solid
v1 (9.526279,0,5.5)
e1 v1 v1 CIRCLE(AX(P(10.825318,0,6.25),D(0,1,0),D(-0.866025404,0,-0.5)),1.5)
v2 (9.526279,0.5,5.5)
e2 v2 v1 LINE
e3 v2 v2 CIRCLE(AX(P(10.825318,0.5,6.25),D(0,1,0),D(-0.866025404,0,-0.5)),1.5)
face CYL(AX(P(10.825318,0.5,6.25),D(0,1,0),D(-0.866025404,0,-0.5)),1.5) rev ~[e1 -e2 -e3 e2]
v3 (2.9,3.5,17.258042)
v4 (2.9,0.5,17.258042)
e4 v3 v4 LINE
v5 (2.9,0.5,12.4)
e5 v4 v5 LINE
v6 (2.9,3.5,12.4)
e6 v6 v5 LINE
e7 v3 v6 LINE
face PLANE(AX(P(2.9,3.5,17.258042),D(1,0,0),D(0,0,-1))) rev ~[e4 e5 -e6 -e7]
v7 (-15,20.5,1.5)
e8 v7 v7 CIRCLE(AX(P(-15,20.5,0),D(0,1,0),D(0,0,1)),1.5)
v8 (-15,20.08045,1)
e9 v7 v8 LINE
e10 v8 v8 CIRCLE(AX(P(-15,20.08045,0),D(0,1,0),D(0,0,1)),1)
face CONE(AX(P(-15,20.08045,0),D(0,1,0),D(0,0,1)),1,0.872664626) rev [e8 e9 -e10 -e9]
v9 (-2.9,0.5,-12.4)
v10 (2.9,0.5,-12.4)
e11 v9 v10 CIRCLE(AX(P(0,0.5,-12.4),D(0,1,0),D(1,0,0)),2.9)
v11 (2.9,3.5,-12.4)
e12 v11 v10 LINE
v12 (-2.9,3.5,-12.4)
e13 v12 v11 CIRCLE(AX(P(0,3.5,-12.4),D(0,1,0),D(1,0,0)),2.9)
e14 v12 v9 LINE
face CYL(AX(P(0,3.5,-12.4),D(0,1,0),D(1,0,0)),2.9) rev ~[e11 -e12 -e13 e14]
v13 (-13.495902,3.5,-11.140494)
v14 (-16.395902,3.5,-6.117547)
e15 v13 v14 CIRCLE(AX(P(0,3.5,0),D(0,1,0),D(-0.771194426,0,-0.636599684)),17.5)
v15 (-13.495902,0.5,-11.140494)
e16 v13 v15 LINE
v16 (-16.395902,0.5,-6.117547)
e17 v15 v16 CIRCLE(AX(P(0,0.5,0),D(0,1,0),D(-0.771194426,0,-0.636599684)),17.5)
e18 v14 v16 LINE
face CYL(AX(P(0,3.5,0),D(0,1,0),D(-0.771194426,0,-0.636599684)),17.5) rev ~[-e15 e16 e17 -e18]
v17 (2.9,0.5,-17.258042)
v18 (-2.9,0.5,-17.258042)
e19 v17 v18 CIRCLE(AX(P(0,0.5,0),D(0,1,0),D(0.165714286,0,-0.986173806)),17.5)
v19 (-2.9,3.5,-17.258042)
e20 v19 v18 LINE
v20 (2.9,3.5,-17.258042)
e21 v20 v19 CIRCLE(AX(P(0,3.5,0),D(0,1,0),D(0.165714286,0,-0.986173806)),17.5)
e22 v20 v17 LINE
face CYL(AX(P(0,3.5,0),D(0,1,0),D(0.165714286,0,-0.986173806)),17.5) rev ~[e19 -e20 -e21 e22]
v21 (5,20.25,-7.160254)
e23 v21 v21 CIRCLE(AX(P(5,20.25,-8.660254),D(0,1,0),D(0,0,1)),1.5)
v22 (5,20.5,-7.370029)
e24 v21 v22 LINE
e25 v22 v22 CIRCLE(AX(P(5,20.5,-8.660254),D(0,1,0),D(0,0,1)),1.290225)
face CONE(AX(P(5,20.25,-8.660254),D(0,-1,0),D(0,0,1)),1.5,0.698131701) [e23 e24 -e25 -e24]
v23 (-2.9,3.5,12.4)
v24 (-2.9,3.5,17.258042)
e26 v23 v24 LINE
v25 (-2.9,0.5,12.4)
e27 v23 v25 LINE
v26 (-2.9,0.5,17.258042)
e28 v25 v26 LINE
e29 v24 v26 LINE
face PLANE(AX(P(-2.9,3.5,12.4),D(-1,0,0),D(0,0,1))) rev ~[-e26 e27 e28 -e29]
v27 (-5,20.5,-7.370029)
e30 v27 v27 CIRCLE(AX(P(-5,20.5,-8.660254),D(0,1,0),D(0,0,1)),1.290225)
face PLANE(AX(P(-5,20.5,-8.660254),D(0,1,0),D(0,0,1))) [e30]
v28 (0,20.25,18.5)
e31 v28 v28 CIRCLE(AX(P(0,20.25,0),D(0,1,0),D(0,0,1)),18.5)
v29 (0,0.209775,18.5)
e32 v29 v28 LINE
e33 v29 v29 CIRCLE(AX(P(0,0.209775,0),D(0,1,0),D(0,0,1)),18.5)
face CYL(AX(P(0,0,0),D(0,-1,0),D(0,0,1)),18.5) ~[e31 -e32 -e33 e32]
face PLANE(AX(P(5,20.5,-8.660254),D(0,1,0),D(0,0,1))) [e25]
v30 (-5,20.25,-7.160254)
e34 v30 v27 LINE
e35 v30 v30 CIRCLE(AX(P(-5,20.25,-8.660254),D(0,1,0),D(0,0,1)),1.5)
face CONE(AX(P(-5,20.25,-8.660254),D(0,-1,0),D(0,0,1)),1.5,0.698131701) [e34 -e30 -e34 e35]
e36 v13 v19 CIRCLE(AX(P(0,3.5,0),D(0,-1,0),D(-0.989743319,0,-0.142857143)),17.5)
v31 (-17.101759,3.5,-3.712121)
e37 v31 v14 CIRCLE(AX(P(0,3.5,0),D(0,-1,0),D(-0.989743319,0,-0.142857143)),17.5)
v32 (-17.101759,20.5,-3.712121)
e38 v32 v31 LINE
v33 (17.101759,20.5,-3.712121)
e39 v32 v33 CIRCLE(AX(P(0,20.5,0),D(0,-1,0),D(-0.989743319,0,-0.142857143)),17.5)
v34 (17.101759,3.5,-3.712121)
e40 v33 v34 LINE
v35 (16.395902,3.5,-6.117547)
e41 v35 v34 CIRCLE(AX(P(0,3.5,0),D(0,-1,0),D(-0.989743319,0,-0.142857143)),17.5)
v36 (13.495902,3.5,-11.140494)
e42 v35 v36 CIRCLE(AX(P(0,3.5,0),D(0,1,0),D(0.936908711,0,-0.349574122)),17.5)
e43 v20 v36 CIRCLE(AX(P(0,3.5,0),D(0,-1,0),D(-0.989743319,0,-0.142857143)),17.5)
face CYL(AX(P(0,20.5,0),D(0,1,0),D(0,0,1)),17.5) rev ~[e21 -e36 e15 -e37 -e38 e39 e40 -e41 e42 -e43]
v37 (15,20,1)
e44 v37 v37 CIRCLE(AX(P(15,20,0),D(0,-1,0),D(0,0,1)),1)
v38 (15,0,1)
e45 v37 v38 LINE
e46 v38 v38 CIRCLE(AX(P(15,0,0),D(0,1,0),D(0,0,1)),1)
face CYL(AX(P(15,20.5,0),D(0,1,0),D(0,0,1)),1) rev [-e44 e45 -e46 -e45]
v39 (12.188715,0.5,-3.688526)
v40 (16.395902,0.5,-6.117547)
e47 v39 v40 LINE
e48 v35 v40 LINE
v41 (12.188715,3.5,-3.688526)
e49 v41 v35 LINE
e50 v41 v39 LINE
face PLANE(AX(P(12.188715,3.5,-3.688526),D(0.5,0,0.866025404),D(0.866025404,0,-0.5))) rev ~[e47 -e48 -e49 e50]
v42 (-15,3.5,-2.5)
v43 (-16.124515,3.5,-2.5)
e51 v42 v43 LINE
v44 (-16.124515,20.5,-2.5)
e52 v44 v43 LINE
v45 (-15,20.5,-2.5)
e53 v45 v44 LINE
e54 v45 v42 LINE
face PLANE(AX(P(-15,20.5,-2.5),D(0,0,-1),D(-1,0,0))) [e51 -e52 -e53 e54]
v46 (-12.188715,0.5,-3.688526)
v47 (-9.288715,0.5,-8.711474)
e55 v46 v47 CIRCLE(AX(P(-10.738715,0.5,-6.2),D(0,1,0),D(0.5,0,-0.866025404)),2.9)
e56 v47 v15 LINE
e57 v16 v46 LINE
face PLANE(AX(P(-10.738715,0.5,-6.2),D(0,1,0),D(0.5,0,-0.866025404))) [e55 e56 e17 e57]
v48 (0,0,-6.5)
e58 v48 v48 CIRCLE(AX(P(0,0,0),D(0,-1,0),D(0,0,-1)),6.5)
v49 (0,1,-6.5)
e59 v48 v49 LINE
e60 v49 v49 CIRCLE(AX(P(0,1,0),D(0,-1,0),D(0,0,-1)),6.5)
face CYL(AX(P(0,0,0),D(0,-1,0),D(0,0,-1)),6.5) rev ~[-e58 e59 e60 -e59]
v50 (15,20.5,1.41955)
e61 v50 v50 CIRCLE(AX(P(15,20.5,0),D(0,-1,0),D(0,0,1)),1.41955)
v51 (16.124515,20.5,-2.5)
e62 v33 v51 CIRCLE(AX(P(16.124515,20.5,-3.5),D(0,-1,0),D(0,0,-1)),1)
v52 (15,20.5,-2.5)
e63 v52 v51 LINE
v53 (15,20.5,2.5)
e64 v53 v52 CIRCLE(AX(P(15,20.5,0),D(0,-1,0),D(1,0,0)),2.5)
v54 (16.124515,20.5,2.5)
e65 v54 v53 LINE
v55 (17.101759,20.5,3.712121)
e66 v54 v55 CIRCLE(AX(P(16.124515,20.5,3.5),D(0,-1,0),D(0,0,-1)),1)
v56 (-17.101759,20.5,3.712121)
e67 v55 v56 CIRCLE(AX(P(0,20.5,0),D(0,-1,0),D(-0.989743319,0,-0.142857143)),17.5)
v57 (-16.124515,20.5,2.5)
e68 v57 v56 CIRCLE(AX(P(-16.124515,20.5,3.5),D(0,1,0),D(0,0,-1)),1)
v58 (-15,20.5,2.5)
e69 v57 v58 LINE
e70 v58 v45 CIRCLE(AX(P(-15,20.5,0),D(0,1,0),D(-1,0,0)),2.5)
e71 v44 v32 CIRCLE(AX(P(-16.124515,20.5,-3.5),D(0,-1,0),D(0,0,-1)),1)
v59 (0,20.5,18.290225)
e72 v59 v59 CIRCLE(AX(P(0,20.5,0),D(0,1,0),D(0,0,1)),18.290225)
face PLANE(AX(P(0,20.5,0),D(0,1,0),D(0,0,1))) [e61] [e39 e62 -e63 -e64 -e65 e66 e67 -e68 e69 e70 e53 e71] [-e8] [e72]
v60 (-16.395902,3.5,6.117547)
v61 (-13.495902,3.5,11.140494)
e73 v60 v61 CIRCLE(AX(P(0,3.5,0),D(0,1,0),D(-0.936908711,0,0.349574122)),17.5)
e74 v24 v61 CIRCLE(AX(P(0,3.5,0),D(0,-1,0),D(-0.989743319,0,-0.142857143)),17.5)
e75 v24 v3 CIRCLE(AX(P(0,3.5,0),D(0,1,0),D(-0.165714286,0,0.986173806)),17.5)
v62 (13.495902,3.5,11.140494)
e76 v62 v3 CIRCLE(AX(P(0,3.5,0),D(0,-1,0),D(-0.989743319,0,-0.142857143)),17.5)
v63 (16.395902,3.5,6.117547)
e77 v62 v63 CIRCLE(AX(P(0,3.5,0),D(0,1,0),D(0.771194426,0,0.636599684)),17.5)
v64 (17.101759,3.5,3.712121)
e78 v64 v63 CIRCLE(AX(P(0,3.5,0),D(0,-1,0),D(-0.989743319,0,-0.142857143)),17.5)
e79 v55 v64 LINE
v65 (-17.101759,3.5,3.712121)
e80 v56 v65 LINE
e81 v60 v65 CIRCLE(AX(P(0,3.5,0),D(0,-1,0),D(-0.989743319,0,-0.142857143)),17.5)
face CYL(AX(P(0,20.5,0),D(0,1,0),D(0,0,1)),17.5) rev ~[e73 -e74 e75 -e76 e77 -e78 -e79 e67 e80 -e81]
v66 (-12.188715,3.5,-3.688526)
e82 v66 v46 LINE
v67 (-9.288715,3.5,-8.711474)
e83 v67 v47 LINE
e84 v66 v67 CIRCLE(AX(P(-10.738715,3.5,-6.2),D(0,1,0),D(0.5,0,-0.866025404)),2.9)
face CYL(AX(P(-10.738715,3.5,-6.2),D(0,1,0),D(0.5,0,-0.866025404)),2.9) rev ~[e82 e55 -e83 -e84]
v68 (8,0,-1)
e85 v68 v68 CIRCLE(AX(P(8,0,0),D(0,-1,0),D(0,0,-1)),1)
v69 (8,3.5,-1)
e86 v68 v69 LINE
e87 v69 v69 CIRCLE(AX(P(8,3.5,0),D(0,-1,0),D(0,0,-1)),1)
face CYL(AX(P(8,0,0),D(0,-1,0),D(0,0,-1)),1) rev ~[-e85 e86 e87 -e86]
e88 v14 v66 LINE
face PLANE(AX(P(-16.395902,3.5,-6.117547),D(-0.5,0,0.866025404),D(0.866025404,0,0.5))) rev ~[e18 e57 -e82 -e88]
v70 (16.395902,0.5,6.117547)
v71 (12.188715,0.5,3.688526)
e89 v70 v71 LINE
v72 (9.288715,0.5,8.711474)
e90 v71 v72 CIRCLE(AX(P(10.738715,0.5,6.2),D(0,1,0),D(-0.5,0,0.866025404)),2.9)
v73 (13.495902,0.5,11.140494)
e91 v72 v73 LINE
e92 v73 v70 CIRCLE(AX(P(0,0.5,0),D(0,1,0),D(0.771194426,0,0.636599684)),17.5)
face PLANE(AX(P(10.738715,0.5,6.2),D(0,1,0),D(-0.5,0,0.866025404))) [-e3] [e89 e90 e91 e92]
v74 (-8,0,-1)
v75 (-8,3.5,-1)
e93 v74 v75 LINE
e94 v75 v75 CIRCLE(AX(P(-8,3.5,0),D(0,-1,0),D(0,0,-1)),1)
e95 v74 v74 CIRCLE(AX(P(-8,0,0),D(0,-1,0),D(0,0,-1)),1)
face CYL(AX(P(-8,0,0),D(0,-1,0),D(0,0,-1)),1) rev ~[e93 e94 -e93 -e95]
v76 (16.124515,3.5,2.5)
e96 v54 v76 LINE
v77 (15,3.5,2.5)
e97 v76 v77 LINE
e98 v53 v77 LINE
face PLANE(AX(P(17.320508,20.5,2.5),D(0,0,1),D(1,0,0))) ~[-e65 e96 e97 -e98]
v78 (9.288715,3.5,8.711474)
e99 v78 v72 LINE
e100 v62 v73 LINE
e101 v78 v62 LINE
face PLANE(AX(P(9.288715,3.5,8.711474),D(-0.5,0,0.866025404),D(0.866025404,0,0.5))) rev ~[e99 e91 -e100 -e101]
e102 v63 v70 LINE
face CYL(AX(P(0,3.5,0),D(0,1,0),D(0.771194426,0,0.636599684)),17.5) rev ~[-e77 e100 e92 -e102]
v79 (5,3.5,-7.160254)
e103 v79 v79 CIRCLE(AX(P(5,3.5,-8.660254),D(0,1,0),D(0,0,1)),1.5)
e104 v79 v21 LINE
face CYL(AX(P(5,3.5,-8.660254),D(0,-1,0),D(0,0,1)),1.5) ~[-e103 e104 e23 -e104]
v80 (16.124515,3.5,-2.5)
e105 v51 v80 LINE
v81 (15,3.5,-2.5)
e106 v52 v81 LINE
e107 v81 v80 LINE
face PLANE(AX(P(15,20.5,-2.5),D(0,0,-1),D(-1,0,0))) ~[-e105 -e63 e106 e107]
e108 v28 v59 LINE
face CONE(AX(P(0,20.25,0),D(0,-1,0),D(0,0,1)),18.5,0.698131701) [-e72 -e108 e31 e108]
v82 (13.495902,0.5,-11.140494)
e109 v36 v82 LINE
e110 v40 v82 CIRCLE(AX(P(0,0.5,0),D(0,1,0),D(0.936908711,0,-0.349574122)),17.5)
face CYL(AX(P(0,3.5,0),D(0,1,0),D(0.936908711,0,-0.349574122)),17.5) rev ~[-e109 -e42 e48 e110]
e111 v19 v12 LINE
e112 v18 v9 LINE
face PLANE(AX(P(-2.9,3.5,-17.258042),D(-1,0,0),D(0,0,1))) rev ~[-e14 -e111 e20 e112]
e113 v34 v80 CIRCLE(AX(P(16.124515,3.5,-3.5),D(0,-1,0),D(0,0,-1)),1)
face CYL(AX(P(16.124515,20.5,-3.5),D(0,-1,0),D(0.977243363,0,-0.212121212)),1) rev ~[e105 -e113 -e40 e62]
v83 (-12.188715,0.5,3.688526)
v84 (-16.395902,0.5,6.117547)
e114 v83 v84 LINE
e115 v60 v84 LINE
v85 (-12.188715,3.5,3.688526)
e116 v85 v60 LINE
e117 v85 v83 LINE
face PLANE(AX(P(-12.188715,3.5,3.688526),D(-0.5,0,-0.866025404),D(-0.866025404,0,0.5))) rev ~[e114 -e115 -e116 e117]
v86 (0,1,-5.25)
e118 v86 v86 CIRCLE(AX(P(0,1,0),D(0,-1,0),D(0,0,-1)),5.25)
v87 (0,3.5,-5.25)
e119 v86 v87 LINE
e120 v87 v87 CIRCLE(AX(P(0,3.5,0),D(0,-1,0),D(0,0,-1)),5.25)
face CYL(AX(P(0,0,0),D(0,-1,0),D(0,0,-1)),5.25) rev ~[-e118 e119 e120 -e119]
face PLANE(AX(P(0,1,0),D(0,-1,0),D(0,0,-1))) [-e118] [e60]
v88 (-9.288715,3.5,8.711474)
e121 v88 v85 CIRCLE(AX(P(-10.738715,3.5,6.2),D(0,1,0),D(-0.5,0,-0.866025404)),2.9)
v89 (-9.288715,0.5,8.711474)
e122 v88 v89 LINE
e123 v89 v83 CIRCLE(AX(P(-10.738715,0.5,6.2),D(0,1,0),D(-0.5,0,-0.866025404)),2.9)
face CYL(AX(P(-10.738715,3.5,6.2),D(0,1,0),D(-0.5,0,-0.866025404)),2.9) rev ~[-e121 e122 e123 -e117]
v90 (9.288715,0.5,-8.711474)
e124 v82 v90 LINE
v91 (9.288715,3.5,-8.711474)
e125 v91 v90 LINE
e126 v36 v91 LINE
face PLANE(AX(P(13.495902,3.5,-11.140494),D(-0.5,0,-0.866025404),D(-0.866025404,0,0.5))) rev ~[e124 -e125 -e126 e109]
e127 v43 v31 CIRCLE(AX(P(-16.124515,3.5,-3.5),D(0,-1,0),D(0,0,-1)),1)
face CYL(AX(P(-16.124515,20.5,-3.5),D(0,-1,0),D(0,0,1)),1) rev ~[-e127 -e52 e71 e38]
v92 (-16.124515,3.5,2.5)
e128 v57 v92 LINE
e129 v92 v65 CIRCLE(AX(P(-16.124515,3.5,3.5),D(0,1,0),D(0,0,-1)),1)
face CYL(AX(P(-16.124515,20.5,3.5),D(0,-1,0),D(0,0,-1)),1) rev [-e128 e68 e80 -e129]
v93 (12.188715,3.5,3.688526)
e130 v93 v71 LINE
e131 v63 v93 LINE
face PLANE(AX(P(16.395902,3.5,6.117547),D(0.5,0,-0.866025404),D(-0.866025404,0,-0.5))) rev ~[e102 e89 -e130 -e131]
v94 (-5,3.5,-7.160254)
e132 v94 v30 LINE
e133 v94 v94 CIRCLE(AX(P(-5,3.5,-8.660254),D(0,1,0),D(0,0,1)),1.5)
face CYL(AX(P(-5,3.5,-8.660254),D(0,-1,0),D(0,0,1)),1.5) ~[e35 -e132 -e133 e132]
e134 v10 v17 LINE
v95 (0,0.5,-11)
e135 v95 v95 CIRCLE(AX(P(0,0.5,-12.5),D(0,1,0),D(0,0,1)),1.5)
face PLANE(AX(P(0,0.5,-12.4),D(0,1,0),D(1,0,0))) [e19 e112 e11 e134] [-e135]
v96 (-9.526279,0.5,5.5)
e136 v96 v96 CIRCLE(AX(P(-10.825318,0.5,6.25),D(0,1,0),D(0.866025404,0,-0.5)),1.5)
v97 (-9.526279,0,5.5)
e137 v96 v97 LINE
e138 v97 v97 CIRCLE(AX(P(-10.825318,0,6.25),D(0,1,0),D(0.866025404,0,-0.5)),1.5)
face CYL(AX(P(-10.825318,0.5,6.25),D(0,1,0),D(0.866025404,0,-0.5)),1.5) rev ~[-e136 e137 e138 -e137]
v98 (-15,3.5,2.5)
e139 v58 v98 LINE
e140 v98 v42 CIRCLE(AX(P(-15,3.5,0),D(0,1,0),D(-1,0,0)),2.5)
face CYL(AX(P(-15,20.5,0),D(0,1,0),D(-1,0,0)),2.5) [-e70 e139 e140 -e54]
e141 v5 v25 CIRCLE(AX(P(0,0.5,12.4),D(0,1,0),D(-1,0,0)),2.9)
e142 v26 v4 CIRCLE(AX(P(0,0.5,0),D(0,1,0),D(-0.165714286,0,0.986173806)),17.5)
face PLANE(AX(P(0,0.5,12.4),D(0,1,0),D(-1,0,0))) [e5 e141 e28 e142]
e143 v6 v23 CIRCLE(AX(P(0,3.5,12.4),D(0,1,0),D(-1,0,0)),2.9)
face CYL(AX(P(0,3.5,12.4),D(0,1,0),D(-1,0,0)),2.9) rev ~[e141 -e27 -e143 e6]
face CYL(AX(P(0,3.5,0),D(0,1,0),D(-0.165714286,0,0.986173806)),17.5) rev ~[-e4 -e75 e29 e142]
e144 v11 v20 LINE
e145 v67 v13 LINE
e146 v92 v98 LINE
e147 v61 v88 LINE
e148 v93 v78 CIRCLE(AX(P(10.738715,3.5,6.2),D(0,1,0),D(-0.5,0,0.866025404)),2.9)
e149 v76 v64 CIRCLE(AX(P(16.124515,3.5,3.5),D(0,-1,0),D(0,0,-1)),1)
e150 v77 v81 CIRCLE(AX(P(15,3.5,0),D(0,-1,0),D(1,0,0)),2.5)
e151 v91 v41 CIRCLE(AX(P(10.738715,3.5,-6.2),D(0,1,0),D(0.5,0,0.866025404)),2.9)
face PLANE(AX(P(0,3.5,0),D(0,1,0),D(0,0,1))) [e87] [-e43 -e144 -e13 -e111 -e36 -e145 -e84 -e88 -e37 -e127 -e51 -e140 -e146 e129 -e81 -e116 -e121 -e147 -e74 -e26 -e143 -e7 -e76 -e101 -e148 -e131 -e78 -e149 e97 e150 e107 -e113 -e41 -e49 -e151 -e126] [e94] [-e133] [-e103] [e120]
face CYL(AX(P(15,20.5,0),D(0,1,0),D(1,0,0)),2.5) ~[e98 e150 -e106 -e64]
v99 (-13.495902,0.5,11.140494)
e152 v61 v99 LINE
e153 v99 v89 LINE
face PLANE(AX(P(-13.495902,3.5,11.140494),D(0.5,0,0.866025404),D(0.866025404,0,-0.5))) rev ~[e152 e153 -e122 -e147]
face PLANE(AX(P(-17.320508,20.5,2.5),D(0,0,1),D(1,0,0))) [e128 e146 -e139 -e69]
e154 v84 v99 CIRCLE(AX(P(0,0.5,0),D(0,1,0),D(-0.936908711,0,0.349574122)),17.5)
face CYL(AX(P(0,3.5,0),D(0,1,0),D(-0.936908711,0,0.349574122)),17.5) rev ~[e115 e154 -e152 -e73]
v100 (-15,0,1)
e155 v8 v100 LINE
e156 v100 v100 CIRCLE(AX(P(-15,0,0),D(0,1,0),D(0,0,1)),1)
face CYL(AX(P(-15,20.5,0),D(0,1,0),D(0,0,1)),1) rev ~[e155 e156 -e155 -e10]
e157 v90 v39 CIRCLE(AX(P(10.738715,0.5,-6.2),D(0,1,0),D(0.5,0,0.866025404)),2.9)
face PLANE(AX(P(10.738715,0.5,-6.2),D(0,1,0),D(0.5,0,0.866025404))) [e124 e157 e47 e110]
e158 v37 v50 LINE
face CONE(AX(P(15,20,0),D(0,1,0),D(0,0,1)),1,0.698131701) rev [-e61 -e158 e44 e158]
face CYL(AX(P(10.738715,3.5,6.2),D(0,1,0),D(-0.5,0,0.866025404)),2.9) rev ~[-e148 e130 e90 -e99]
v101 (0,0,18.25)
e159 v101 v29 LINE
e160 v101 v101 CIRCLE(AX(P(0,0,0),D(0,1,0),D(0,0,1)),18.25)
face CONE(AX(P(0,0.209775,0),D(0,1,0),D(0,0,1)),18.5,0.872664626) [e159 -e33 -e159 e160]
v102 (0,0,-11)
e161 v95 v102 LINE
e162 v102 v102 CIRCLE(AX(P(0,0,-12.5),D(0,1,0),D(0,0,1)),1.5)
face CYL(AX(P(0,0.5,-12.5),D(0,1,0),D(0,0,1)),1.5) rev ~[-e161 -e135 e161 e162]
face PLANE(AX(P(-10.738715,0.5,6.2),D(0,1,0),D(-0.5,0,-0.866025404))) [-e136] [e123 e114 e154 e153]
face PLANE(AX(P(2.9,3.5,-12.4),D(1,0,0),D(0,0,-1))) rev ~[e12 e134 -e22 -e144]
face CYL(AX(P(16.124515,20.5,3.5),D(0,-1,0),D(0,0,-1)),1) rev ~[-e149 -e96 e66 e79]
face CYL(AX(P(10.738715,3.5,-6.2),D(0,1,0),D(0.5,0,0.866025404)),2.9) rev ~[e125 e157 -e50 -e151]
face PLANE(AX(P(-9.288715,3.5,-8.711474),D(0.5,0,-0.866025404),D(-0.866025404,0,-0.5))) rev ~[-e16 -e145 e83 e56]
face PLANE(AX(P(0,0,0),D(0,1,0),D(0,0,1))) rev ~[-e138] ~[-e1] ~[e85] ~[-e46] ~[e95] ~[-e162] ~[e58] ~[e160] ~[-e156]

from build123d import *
from OCP.BRepFilletAPI import BRepFilletAPI_MakeChamfer

# Parameters (mm, degrees)
SKETCH1_R            = 18.5
BOSS_EXTRUDE1_DEPTH  = 20.5
SKETCH2_R            = 17.5
CUT_EXTRUDE1_DEPTH   = 17
CUT_EXTRUDE2_REACH   = 35.238
SKETCH4_R            = 5.25
BOSS_EXTRUDE2_START  = 17
SKETCH5_R            = 2.5
BOSS_EXTRUDE2_DEPTH  = 17
FILLET1_R            = 1
SKETCH6_R            = 1
CUT_EXTRUDE3_DEPTH   = 34.237779709
FILLET1_OF_MIRROR1_R = 1
SKETCH7_R            = 2.9
CUT_EXTRUDE4_DEPTH   = 3
CIRPATTERN1_COUNT    = 6
SKETCH8_R            = 6.5
CUT_EXTRUDE5_DEPTH   = 1
CUT_EXTRUDE6_REACH   = 35.238
SKETCH9_R            = 1
CUT_EXTRUDE7_REACH   = 34.932
SKETCH11_R           = 1.5
CIRPATTERN2_COUNT    = 3
SKETCH12_R           = 1.5
BOSS_EXTRUDE3_DEPTH  = 17
CHAMFER1_SIZE        = 0.5
CHAMFER1_SIZE2       = 0.419549816
CHAMFER2_SIZE        = 0.25
CHAMFER2_SIZE2       = 0.209774908
CHAMFER3_SIZE        = 0.25
CHAMFER3_SIZE2       = 0.209774908


with BuildPart() as part:
    # Sketch1 → Boss-Extrude1 (new body)
    with BuildSketch(Plane(origin=(0, 0, 0), x_dir=(1, 0, 0), z_dir=(0, 1, 0))):
        with Locations(Location((0, 0, 0), (0, 0, 270))):
            Circle(SKETCH1_R)
    extrude(amount=BOSS_EXTRUDE1_DEPTH)

    # Sketch2 → Cut-Extrude1 (cut)
    with BuildSketch(Plane(origin=(0, 20.5, 0), x_dir=(1, 0, 0), z_dir=(0, 1, 0))):
        with Locations(Location((0, 0, 0), (0, 0, 270))):
            Circle(SKETCH2_R)
    extrude(amount=-CUT_EXTRUDE1_DEPTH, mode=Mode.SUBTRACT)

    # Sketch4 → Cut-Extrude2 (cut, up to next)
    with BuildSketch(Plane.XZ, mode=Mode.PRIVATE) as cut_extrude2_sk1:
        with Locations(Location((0, 0, 0), (0, 0, 270))):
            Circle(SKETCH4_R)
    cut_extrude2_tool1 = extrude(cut_extrude2_sk1.sketch, amount=-CUT_EXTRUDE2_REACH, mode=Mode.PRIVATE) & part.part
    add(cut_extrude2_tool1.solids().sort_by_distance((0, 0, 0))[0], mode=Mode.SUBTRACT)

    # Sketch5 → Boss-Extrude2 (add)
    with BuildSketch(Plane(origin=(0, 3.5, 0), x_dir=(1, 0, 0), z_dir=(0, 1, 0)).offset(BOSS_EXTRUDE2_START)):
        with Locations((-15, 0)):
            Circle(SKETCH5_R)
        with BuildLine():
            ThreePointArc((-17.5, 0), (-16.767766953, 1.767766953), (-15, 2.5))
            Line((-15, 2.5), (-17.320508076, 2.5))
            ThreePointArc((-17.320508076, 2.5), (-17.45506934, 1.253217594), (-17.5, 0))
        make_face()
        with BuildLine():
            ThreePointArc((-15, -2.5), (-16.767766953, -1.767766953), (-17.5, 0))
            ThreePointArc((-17.5, 0), (-17.45506934, -1.253217594), (-17.320508076, -2.5))
            Line((-17.320508076, -2.5), (-15, -2.5))
        make_face()
    boss_extrude2 = extrude(amount=-BOSS_EXTRUDE2_DEPTH)

    # Fillet1
    fillet1_edges = [part.edges().sort_by_distance(p)[0] for p in [
        (-17.320508076, 12, -2.5),
        (-17.320508076, 12, 2.5),
    ]]
    fillet(fillet1_edges, radius=FILLET1_R)

    # Sketch6 → Cut-Extrude3 (cut, through all)
    with BuildSketch(Plane(origin=(0, 20.5, 0), x_dir=(1, 0, 0), z_dir=(0, 1, 0))):
        with Locations(Location((-15, 0, 0), (0, 0, 270))):
            Circle(SKETCH6_R)
    cut_extrude3 = extrude(amount=-CUT_EXTRUDE3_DEPTH, mode=Mode.SUBTRACT)

    # Mirror1: Boss-Extrude2, Cut-Extrude3 across plane
    add(boss_extrude2.mirror(Plane(origin=(0, 0, 0), x_dir=(0, 0, 1), z_dir=(1, 0, 0))))
    add(cut_extrude3.mirror(Plane(origin=(0, 0, 0), x_dir=(0, 0, 1), z_dir=(1, 0, 0))), mode=Mode.SUBTRACT)

    # Fillet1 of Mirror1
    fillet1_of_mirror1_edges = [part.edges().sort_by_distance(p)[0] for p in [
        (17.320508076, 12, -2.5),
        (17.320508076, 12, 2.5),
    ]]
    fillet(fillet1_of_mirror1_edges, radius=FILLET1_OF_MIRROR1_R)

    # Sketch7 → Cut-Extrude4 (cut)
    with BuildSketch(Plane(origin=(0, 3.5, 0), x_dir=(1, 0, 0), z_dir=(0, 1, 0))):
        with Locations((0, 12.4)):
            Circle(SKETCH7_R)
        with BuildLine():
            Line((-2.9, 17.258041604), (-2.9, 12.4))
            ThreePointArc((-2.9, 12.4), (0, 15.3), (2.9, 12.4))
            Line((2.9, 12.4), (2.9, 17.258041604))
            ThreePointArc((2.9, 17.258041604), (0, 17.5), (-2.9, 17.258041604))
        make_face()
    cut_extrude4 = extrude(amount=-CUT_EXTRUDE4_DEPTH, mode=Mode.SUBTRACT)

    # CirPattern1: Cut-Extrude4 ×6 about axis
    cirpattern1_axis = Axis((0, 0, 0), (0, 1, 0))
    for i in range(1, CIRPATTERN1_COUNT):
        add(cut_extrude4.rotate(cirpattern1_axis, i * 360 / CIRPATTERN1_COUNT), mode=Mode.SUBTRACT)

    # Sketch8 → Cut-Extrude5 (cut)
    with BuildSketch(Plane.XZ):
        with Locations(Location((0, 0, 0), (0, 0, 270))):
            Circle(SKETCH8_R)
    extrude(amount=-CUT_EXTRUDE5_DEPTH, mode=Mode.SUBTRACT)

    # Sketch9 → Cut-Extrude6 (cut, up to next)
    with BuildSketch(Plane.XZ, mode=Mode.PRIVATE) as cut_extrude6_sk1:
        with Locations(Location((-8, 0, 0), (0, 0, 270))):
            Circle(SKETCH9_R)
    cut_extrude6_tool1 = extrude(cut_extrude6_sk1.sketch, amount=-CUT_EXTRUDE6_REACH, mode=Mode.PRIVATE) & part.part
    # Sketch9 → Cut-Extrude6 (cut, up to next)
    with BuildSketch(Plane.XZ, mode=Mode.PRIVATE) as cut_extrude6_sk2:
        with Locations(Location((8, 0, 0), (0, 0, 270))):
            Circle(SKETCH9_R)
    cut_extrude6_tool2 = extrude(cut_extrude6_sk2.sketch, amount=-CUT_EXTRUDE6_REACH, mode=Mode.PRIVATE) & part.part
    add(cut_extrude6_tool1.solids().sort_by_distance((-8, 0, 0))[0], mode=Mode.SUBTRACT)
    add(cut_extrude6_tool2.solids().sort_by_distance((8, 0, 0))[0], mode=Mode.SUBTRACT)

    # Sketch11 → Cut-Extrude7 (cut, up to next)
    with BuildSketch(Plane(origin=(0, 0.5, 0), x_dir=(1, 0, 0), z_dir=(0, 1, 0)), mode=Mode.PRIVATE) as cut_extrude7_sk1:
        with Locations(Location((0, 12.5, 0), (0, 0, 270))):
            Circle(SKETCH11_R)
    cut_extrude7_tool1 = extrude(cut_extrude7_sk1.sketch, amount=-CUT_EXTRUDE7_REACH, mode=Mode.PRIVATE) & part.part
    cut_extrude7 = cut_extrude7_tool1.solids().sort_by_distance((0, 0.5, -12.5))[0]
    add(cut_extrude7, mode=Mode.SUBTRACT)

    # CirPattern2: Cut-Extrude7 ×3 about axis
    cirpattern2_axis = Axis((0, 0, 0), (0, 1, 0))
    for i in range(1, CIRPATTERN2_COUNT):
        add(cut_extrude7.rotate(cirpattern2_axis, i * 360 / CIRPATTERN2_COUNT), mode=Mode.SUBTRACT)

    # Sketch12 → Boss-Extrude3 (add)
    with BuildSketch(Plane(origin=(0, 3.5, 0), x_dir=(1, 0, 0), z_dir=(0, 1, 0))):
        with Locations(Location((-5, 8.660254038, 0), (0, 0, 270))):
            Circle(SKETCH12_R)
        with Locations(Location((5, 8.660254038, 0), (0, 0, 270))):
            Circle(SKETCH12_R)
    extrude(amount=BOSS_EXTRUDE3_DEPTH)

    # Chamfer1: one chamfer whose edges measure the first distance from different faces: ONE call of the kernel's chamfer builder (chamfer() names one face for all edges)
    chamfer1_edges_1 = [part.edges().sort_by_distance(p)[0] for p in [
        (-15, 20.5, -1),
    ]]
    chamfer1_side_1 = [part.faces().sort_by_distance(p)[0] for p in [
        (0, 20.5, -18.023259018),
    ]]
    chamfer1_edges_2 = [part.edges().sort_by_distance(p)[0] for p in [
        (15, 20.5, -1),
    ]]
    chamfer1_side_2 = [part.faces().sort_by_distance(p)[0] for p in [
        (15, 10.25, -1),
    ]]
    chamfer1 = BRepFilletAPI_MakeChamfer(part.part.solid().wrapped)
    for e in chamfer1_edges_1:
        chamfer1.Add(CHAMFER1_SIZE, CHAMFER1_SIZE2, e.wrapped, chamfer1_side_1[0].wrapped)  # the first distance lies on this face
    for e in chamfer1_edges_2:
        chamfer1.Add(CHAMFER1_SIZE, CHAMFER1_SIZE2, e.wrapped, chamfer1_side_2[0].wrapped)  # the first distance lies on this face
    add(Compound.cast(chamfer1.Shape()), mode=Mode.REPLACE)

    # Chamfer2: one chamfer whose edges measure the first distance from different faces: ONE call of the kernel's chamfer builder (chamfer() names one face for all edges)
    chamfer2_edges_1 = [part.edges().sort_by_distance(p)[0] for p in [
        (-5, 20.5, -10.160254038),
    ]]
    chamfer2_side_1 = [part.faces().sort_by_distance(p)[0] for p in [
        (-5, 12, -10.160254038),
    ]]
    chamfer2_edges_2 = [part.edges().sort_by_distance(p)[0] for p in [
        (5, 20.5, -10.160254038),
    ]]
    chamfer2_side_2 = [part.faces().sort_by_distance(p)[0] for p in [
        (5, 12, -10.160254038),
    ]]
    chamfer2 = BRepFilletAPI_MakeChamfer(part.part.solid().wrapped)
    for e in chamfer2_edges_1:
        chamfer2.Add(CHAMFER2_SIZE, CHAMFER2_SIZE2, e.wrapped, chamfer2_side_1[0].wrapped)  # the first distance lies on this face
    for e in chamfer2_edges_2:
        chamfer2.Add(CHAMFER2_SIZE, CHAMFER2_SIZE2, e.wrapped, chamfer2_side_2[0].wrapped)  # the first distance lies on this face
    add(Compound.cast(chamfer2.Shape()), mode=Mode.REPLACE)

    # Chamfer3: one chamfer whose edges measure the first distance from different faces: ONE call of the kernel's chamfer builder (chamfer() names one face for all edges)
    chamfer3_edges_1 = [part.edges().sort_by_distance(p)[0] for p in [
        (0, 0, -18.5),
    ]]
    chamfer3_side_1 = [part.faces().sort_by_distance(p)[0] for p in [
        (0, 0, -17.976740982),
    ]]
    chamfer3_edges_2 = [part.edges().sort_by_distance(p)[0] for p in [
        (0, 20.5, -18.5),
    ]]
    chamfer3_side_2 = [part.faces().sort_by_distance(p)[0] for p in [
        (0, 10.25, -18.5),
    ]]
    chamfer3 = BRepFilletAPI_MakeChamfer(part.part.solid().wrapped)
    for e in chamfer3_edges_1:
        chamfer3.Add(CHAMFER3_SIZE, CHAMFER3_SIZE2, e.wrapped, chamfer3_side_1[0].wrapped)  # the first distance lies on this face
    for e in chamfer3_edges_2:
        chamfer3.Add(CHAMFER3_SIZE, CHAMFER3_SIZE2, e.wrapped, chamfer3_side_2[0].wrapped)  # the first distance lies on this face
    add(Compound.cast(chamfer3.Shape()), mode=Mode.REPLACE)


solid = part.part
